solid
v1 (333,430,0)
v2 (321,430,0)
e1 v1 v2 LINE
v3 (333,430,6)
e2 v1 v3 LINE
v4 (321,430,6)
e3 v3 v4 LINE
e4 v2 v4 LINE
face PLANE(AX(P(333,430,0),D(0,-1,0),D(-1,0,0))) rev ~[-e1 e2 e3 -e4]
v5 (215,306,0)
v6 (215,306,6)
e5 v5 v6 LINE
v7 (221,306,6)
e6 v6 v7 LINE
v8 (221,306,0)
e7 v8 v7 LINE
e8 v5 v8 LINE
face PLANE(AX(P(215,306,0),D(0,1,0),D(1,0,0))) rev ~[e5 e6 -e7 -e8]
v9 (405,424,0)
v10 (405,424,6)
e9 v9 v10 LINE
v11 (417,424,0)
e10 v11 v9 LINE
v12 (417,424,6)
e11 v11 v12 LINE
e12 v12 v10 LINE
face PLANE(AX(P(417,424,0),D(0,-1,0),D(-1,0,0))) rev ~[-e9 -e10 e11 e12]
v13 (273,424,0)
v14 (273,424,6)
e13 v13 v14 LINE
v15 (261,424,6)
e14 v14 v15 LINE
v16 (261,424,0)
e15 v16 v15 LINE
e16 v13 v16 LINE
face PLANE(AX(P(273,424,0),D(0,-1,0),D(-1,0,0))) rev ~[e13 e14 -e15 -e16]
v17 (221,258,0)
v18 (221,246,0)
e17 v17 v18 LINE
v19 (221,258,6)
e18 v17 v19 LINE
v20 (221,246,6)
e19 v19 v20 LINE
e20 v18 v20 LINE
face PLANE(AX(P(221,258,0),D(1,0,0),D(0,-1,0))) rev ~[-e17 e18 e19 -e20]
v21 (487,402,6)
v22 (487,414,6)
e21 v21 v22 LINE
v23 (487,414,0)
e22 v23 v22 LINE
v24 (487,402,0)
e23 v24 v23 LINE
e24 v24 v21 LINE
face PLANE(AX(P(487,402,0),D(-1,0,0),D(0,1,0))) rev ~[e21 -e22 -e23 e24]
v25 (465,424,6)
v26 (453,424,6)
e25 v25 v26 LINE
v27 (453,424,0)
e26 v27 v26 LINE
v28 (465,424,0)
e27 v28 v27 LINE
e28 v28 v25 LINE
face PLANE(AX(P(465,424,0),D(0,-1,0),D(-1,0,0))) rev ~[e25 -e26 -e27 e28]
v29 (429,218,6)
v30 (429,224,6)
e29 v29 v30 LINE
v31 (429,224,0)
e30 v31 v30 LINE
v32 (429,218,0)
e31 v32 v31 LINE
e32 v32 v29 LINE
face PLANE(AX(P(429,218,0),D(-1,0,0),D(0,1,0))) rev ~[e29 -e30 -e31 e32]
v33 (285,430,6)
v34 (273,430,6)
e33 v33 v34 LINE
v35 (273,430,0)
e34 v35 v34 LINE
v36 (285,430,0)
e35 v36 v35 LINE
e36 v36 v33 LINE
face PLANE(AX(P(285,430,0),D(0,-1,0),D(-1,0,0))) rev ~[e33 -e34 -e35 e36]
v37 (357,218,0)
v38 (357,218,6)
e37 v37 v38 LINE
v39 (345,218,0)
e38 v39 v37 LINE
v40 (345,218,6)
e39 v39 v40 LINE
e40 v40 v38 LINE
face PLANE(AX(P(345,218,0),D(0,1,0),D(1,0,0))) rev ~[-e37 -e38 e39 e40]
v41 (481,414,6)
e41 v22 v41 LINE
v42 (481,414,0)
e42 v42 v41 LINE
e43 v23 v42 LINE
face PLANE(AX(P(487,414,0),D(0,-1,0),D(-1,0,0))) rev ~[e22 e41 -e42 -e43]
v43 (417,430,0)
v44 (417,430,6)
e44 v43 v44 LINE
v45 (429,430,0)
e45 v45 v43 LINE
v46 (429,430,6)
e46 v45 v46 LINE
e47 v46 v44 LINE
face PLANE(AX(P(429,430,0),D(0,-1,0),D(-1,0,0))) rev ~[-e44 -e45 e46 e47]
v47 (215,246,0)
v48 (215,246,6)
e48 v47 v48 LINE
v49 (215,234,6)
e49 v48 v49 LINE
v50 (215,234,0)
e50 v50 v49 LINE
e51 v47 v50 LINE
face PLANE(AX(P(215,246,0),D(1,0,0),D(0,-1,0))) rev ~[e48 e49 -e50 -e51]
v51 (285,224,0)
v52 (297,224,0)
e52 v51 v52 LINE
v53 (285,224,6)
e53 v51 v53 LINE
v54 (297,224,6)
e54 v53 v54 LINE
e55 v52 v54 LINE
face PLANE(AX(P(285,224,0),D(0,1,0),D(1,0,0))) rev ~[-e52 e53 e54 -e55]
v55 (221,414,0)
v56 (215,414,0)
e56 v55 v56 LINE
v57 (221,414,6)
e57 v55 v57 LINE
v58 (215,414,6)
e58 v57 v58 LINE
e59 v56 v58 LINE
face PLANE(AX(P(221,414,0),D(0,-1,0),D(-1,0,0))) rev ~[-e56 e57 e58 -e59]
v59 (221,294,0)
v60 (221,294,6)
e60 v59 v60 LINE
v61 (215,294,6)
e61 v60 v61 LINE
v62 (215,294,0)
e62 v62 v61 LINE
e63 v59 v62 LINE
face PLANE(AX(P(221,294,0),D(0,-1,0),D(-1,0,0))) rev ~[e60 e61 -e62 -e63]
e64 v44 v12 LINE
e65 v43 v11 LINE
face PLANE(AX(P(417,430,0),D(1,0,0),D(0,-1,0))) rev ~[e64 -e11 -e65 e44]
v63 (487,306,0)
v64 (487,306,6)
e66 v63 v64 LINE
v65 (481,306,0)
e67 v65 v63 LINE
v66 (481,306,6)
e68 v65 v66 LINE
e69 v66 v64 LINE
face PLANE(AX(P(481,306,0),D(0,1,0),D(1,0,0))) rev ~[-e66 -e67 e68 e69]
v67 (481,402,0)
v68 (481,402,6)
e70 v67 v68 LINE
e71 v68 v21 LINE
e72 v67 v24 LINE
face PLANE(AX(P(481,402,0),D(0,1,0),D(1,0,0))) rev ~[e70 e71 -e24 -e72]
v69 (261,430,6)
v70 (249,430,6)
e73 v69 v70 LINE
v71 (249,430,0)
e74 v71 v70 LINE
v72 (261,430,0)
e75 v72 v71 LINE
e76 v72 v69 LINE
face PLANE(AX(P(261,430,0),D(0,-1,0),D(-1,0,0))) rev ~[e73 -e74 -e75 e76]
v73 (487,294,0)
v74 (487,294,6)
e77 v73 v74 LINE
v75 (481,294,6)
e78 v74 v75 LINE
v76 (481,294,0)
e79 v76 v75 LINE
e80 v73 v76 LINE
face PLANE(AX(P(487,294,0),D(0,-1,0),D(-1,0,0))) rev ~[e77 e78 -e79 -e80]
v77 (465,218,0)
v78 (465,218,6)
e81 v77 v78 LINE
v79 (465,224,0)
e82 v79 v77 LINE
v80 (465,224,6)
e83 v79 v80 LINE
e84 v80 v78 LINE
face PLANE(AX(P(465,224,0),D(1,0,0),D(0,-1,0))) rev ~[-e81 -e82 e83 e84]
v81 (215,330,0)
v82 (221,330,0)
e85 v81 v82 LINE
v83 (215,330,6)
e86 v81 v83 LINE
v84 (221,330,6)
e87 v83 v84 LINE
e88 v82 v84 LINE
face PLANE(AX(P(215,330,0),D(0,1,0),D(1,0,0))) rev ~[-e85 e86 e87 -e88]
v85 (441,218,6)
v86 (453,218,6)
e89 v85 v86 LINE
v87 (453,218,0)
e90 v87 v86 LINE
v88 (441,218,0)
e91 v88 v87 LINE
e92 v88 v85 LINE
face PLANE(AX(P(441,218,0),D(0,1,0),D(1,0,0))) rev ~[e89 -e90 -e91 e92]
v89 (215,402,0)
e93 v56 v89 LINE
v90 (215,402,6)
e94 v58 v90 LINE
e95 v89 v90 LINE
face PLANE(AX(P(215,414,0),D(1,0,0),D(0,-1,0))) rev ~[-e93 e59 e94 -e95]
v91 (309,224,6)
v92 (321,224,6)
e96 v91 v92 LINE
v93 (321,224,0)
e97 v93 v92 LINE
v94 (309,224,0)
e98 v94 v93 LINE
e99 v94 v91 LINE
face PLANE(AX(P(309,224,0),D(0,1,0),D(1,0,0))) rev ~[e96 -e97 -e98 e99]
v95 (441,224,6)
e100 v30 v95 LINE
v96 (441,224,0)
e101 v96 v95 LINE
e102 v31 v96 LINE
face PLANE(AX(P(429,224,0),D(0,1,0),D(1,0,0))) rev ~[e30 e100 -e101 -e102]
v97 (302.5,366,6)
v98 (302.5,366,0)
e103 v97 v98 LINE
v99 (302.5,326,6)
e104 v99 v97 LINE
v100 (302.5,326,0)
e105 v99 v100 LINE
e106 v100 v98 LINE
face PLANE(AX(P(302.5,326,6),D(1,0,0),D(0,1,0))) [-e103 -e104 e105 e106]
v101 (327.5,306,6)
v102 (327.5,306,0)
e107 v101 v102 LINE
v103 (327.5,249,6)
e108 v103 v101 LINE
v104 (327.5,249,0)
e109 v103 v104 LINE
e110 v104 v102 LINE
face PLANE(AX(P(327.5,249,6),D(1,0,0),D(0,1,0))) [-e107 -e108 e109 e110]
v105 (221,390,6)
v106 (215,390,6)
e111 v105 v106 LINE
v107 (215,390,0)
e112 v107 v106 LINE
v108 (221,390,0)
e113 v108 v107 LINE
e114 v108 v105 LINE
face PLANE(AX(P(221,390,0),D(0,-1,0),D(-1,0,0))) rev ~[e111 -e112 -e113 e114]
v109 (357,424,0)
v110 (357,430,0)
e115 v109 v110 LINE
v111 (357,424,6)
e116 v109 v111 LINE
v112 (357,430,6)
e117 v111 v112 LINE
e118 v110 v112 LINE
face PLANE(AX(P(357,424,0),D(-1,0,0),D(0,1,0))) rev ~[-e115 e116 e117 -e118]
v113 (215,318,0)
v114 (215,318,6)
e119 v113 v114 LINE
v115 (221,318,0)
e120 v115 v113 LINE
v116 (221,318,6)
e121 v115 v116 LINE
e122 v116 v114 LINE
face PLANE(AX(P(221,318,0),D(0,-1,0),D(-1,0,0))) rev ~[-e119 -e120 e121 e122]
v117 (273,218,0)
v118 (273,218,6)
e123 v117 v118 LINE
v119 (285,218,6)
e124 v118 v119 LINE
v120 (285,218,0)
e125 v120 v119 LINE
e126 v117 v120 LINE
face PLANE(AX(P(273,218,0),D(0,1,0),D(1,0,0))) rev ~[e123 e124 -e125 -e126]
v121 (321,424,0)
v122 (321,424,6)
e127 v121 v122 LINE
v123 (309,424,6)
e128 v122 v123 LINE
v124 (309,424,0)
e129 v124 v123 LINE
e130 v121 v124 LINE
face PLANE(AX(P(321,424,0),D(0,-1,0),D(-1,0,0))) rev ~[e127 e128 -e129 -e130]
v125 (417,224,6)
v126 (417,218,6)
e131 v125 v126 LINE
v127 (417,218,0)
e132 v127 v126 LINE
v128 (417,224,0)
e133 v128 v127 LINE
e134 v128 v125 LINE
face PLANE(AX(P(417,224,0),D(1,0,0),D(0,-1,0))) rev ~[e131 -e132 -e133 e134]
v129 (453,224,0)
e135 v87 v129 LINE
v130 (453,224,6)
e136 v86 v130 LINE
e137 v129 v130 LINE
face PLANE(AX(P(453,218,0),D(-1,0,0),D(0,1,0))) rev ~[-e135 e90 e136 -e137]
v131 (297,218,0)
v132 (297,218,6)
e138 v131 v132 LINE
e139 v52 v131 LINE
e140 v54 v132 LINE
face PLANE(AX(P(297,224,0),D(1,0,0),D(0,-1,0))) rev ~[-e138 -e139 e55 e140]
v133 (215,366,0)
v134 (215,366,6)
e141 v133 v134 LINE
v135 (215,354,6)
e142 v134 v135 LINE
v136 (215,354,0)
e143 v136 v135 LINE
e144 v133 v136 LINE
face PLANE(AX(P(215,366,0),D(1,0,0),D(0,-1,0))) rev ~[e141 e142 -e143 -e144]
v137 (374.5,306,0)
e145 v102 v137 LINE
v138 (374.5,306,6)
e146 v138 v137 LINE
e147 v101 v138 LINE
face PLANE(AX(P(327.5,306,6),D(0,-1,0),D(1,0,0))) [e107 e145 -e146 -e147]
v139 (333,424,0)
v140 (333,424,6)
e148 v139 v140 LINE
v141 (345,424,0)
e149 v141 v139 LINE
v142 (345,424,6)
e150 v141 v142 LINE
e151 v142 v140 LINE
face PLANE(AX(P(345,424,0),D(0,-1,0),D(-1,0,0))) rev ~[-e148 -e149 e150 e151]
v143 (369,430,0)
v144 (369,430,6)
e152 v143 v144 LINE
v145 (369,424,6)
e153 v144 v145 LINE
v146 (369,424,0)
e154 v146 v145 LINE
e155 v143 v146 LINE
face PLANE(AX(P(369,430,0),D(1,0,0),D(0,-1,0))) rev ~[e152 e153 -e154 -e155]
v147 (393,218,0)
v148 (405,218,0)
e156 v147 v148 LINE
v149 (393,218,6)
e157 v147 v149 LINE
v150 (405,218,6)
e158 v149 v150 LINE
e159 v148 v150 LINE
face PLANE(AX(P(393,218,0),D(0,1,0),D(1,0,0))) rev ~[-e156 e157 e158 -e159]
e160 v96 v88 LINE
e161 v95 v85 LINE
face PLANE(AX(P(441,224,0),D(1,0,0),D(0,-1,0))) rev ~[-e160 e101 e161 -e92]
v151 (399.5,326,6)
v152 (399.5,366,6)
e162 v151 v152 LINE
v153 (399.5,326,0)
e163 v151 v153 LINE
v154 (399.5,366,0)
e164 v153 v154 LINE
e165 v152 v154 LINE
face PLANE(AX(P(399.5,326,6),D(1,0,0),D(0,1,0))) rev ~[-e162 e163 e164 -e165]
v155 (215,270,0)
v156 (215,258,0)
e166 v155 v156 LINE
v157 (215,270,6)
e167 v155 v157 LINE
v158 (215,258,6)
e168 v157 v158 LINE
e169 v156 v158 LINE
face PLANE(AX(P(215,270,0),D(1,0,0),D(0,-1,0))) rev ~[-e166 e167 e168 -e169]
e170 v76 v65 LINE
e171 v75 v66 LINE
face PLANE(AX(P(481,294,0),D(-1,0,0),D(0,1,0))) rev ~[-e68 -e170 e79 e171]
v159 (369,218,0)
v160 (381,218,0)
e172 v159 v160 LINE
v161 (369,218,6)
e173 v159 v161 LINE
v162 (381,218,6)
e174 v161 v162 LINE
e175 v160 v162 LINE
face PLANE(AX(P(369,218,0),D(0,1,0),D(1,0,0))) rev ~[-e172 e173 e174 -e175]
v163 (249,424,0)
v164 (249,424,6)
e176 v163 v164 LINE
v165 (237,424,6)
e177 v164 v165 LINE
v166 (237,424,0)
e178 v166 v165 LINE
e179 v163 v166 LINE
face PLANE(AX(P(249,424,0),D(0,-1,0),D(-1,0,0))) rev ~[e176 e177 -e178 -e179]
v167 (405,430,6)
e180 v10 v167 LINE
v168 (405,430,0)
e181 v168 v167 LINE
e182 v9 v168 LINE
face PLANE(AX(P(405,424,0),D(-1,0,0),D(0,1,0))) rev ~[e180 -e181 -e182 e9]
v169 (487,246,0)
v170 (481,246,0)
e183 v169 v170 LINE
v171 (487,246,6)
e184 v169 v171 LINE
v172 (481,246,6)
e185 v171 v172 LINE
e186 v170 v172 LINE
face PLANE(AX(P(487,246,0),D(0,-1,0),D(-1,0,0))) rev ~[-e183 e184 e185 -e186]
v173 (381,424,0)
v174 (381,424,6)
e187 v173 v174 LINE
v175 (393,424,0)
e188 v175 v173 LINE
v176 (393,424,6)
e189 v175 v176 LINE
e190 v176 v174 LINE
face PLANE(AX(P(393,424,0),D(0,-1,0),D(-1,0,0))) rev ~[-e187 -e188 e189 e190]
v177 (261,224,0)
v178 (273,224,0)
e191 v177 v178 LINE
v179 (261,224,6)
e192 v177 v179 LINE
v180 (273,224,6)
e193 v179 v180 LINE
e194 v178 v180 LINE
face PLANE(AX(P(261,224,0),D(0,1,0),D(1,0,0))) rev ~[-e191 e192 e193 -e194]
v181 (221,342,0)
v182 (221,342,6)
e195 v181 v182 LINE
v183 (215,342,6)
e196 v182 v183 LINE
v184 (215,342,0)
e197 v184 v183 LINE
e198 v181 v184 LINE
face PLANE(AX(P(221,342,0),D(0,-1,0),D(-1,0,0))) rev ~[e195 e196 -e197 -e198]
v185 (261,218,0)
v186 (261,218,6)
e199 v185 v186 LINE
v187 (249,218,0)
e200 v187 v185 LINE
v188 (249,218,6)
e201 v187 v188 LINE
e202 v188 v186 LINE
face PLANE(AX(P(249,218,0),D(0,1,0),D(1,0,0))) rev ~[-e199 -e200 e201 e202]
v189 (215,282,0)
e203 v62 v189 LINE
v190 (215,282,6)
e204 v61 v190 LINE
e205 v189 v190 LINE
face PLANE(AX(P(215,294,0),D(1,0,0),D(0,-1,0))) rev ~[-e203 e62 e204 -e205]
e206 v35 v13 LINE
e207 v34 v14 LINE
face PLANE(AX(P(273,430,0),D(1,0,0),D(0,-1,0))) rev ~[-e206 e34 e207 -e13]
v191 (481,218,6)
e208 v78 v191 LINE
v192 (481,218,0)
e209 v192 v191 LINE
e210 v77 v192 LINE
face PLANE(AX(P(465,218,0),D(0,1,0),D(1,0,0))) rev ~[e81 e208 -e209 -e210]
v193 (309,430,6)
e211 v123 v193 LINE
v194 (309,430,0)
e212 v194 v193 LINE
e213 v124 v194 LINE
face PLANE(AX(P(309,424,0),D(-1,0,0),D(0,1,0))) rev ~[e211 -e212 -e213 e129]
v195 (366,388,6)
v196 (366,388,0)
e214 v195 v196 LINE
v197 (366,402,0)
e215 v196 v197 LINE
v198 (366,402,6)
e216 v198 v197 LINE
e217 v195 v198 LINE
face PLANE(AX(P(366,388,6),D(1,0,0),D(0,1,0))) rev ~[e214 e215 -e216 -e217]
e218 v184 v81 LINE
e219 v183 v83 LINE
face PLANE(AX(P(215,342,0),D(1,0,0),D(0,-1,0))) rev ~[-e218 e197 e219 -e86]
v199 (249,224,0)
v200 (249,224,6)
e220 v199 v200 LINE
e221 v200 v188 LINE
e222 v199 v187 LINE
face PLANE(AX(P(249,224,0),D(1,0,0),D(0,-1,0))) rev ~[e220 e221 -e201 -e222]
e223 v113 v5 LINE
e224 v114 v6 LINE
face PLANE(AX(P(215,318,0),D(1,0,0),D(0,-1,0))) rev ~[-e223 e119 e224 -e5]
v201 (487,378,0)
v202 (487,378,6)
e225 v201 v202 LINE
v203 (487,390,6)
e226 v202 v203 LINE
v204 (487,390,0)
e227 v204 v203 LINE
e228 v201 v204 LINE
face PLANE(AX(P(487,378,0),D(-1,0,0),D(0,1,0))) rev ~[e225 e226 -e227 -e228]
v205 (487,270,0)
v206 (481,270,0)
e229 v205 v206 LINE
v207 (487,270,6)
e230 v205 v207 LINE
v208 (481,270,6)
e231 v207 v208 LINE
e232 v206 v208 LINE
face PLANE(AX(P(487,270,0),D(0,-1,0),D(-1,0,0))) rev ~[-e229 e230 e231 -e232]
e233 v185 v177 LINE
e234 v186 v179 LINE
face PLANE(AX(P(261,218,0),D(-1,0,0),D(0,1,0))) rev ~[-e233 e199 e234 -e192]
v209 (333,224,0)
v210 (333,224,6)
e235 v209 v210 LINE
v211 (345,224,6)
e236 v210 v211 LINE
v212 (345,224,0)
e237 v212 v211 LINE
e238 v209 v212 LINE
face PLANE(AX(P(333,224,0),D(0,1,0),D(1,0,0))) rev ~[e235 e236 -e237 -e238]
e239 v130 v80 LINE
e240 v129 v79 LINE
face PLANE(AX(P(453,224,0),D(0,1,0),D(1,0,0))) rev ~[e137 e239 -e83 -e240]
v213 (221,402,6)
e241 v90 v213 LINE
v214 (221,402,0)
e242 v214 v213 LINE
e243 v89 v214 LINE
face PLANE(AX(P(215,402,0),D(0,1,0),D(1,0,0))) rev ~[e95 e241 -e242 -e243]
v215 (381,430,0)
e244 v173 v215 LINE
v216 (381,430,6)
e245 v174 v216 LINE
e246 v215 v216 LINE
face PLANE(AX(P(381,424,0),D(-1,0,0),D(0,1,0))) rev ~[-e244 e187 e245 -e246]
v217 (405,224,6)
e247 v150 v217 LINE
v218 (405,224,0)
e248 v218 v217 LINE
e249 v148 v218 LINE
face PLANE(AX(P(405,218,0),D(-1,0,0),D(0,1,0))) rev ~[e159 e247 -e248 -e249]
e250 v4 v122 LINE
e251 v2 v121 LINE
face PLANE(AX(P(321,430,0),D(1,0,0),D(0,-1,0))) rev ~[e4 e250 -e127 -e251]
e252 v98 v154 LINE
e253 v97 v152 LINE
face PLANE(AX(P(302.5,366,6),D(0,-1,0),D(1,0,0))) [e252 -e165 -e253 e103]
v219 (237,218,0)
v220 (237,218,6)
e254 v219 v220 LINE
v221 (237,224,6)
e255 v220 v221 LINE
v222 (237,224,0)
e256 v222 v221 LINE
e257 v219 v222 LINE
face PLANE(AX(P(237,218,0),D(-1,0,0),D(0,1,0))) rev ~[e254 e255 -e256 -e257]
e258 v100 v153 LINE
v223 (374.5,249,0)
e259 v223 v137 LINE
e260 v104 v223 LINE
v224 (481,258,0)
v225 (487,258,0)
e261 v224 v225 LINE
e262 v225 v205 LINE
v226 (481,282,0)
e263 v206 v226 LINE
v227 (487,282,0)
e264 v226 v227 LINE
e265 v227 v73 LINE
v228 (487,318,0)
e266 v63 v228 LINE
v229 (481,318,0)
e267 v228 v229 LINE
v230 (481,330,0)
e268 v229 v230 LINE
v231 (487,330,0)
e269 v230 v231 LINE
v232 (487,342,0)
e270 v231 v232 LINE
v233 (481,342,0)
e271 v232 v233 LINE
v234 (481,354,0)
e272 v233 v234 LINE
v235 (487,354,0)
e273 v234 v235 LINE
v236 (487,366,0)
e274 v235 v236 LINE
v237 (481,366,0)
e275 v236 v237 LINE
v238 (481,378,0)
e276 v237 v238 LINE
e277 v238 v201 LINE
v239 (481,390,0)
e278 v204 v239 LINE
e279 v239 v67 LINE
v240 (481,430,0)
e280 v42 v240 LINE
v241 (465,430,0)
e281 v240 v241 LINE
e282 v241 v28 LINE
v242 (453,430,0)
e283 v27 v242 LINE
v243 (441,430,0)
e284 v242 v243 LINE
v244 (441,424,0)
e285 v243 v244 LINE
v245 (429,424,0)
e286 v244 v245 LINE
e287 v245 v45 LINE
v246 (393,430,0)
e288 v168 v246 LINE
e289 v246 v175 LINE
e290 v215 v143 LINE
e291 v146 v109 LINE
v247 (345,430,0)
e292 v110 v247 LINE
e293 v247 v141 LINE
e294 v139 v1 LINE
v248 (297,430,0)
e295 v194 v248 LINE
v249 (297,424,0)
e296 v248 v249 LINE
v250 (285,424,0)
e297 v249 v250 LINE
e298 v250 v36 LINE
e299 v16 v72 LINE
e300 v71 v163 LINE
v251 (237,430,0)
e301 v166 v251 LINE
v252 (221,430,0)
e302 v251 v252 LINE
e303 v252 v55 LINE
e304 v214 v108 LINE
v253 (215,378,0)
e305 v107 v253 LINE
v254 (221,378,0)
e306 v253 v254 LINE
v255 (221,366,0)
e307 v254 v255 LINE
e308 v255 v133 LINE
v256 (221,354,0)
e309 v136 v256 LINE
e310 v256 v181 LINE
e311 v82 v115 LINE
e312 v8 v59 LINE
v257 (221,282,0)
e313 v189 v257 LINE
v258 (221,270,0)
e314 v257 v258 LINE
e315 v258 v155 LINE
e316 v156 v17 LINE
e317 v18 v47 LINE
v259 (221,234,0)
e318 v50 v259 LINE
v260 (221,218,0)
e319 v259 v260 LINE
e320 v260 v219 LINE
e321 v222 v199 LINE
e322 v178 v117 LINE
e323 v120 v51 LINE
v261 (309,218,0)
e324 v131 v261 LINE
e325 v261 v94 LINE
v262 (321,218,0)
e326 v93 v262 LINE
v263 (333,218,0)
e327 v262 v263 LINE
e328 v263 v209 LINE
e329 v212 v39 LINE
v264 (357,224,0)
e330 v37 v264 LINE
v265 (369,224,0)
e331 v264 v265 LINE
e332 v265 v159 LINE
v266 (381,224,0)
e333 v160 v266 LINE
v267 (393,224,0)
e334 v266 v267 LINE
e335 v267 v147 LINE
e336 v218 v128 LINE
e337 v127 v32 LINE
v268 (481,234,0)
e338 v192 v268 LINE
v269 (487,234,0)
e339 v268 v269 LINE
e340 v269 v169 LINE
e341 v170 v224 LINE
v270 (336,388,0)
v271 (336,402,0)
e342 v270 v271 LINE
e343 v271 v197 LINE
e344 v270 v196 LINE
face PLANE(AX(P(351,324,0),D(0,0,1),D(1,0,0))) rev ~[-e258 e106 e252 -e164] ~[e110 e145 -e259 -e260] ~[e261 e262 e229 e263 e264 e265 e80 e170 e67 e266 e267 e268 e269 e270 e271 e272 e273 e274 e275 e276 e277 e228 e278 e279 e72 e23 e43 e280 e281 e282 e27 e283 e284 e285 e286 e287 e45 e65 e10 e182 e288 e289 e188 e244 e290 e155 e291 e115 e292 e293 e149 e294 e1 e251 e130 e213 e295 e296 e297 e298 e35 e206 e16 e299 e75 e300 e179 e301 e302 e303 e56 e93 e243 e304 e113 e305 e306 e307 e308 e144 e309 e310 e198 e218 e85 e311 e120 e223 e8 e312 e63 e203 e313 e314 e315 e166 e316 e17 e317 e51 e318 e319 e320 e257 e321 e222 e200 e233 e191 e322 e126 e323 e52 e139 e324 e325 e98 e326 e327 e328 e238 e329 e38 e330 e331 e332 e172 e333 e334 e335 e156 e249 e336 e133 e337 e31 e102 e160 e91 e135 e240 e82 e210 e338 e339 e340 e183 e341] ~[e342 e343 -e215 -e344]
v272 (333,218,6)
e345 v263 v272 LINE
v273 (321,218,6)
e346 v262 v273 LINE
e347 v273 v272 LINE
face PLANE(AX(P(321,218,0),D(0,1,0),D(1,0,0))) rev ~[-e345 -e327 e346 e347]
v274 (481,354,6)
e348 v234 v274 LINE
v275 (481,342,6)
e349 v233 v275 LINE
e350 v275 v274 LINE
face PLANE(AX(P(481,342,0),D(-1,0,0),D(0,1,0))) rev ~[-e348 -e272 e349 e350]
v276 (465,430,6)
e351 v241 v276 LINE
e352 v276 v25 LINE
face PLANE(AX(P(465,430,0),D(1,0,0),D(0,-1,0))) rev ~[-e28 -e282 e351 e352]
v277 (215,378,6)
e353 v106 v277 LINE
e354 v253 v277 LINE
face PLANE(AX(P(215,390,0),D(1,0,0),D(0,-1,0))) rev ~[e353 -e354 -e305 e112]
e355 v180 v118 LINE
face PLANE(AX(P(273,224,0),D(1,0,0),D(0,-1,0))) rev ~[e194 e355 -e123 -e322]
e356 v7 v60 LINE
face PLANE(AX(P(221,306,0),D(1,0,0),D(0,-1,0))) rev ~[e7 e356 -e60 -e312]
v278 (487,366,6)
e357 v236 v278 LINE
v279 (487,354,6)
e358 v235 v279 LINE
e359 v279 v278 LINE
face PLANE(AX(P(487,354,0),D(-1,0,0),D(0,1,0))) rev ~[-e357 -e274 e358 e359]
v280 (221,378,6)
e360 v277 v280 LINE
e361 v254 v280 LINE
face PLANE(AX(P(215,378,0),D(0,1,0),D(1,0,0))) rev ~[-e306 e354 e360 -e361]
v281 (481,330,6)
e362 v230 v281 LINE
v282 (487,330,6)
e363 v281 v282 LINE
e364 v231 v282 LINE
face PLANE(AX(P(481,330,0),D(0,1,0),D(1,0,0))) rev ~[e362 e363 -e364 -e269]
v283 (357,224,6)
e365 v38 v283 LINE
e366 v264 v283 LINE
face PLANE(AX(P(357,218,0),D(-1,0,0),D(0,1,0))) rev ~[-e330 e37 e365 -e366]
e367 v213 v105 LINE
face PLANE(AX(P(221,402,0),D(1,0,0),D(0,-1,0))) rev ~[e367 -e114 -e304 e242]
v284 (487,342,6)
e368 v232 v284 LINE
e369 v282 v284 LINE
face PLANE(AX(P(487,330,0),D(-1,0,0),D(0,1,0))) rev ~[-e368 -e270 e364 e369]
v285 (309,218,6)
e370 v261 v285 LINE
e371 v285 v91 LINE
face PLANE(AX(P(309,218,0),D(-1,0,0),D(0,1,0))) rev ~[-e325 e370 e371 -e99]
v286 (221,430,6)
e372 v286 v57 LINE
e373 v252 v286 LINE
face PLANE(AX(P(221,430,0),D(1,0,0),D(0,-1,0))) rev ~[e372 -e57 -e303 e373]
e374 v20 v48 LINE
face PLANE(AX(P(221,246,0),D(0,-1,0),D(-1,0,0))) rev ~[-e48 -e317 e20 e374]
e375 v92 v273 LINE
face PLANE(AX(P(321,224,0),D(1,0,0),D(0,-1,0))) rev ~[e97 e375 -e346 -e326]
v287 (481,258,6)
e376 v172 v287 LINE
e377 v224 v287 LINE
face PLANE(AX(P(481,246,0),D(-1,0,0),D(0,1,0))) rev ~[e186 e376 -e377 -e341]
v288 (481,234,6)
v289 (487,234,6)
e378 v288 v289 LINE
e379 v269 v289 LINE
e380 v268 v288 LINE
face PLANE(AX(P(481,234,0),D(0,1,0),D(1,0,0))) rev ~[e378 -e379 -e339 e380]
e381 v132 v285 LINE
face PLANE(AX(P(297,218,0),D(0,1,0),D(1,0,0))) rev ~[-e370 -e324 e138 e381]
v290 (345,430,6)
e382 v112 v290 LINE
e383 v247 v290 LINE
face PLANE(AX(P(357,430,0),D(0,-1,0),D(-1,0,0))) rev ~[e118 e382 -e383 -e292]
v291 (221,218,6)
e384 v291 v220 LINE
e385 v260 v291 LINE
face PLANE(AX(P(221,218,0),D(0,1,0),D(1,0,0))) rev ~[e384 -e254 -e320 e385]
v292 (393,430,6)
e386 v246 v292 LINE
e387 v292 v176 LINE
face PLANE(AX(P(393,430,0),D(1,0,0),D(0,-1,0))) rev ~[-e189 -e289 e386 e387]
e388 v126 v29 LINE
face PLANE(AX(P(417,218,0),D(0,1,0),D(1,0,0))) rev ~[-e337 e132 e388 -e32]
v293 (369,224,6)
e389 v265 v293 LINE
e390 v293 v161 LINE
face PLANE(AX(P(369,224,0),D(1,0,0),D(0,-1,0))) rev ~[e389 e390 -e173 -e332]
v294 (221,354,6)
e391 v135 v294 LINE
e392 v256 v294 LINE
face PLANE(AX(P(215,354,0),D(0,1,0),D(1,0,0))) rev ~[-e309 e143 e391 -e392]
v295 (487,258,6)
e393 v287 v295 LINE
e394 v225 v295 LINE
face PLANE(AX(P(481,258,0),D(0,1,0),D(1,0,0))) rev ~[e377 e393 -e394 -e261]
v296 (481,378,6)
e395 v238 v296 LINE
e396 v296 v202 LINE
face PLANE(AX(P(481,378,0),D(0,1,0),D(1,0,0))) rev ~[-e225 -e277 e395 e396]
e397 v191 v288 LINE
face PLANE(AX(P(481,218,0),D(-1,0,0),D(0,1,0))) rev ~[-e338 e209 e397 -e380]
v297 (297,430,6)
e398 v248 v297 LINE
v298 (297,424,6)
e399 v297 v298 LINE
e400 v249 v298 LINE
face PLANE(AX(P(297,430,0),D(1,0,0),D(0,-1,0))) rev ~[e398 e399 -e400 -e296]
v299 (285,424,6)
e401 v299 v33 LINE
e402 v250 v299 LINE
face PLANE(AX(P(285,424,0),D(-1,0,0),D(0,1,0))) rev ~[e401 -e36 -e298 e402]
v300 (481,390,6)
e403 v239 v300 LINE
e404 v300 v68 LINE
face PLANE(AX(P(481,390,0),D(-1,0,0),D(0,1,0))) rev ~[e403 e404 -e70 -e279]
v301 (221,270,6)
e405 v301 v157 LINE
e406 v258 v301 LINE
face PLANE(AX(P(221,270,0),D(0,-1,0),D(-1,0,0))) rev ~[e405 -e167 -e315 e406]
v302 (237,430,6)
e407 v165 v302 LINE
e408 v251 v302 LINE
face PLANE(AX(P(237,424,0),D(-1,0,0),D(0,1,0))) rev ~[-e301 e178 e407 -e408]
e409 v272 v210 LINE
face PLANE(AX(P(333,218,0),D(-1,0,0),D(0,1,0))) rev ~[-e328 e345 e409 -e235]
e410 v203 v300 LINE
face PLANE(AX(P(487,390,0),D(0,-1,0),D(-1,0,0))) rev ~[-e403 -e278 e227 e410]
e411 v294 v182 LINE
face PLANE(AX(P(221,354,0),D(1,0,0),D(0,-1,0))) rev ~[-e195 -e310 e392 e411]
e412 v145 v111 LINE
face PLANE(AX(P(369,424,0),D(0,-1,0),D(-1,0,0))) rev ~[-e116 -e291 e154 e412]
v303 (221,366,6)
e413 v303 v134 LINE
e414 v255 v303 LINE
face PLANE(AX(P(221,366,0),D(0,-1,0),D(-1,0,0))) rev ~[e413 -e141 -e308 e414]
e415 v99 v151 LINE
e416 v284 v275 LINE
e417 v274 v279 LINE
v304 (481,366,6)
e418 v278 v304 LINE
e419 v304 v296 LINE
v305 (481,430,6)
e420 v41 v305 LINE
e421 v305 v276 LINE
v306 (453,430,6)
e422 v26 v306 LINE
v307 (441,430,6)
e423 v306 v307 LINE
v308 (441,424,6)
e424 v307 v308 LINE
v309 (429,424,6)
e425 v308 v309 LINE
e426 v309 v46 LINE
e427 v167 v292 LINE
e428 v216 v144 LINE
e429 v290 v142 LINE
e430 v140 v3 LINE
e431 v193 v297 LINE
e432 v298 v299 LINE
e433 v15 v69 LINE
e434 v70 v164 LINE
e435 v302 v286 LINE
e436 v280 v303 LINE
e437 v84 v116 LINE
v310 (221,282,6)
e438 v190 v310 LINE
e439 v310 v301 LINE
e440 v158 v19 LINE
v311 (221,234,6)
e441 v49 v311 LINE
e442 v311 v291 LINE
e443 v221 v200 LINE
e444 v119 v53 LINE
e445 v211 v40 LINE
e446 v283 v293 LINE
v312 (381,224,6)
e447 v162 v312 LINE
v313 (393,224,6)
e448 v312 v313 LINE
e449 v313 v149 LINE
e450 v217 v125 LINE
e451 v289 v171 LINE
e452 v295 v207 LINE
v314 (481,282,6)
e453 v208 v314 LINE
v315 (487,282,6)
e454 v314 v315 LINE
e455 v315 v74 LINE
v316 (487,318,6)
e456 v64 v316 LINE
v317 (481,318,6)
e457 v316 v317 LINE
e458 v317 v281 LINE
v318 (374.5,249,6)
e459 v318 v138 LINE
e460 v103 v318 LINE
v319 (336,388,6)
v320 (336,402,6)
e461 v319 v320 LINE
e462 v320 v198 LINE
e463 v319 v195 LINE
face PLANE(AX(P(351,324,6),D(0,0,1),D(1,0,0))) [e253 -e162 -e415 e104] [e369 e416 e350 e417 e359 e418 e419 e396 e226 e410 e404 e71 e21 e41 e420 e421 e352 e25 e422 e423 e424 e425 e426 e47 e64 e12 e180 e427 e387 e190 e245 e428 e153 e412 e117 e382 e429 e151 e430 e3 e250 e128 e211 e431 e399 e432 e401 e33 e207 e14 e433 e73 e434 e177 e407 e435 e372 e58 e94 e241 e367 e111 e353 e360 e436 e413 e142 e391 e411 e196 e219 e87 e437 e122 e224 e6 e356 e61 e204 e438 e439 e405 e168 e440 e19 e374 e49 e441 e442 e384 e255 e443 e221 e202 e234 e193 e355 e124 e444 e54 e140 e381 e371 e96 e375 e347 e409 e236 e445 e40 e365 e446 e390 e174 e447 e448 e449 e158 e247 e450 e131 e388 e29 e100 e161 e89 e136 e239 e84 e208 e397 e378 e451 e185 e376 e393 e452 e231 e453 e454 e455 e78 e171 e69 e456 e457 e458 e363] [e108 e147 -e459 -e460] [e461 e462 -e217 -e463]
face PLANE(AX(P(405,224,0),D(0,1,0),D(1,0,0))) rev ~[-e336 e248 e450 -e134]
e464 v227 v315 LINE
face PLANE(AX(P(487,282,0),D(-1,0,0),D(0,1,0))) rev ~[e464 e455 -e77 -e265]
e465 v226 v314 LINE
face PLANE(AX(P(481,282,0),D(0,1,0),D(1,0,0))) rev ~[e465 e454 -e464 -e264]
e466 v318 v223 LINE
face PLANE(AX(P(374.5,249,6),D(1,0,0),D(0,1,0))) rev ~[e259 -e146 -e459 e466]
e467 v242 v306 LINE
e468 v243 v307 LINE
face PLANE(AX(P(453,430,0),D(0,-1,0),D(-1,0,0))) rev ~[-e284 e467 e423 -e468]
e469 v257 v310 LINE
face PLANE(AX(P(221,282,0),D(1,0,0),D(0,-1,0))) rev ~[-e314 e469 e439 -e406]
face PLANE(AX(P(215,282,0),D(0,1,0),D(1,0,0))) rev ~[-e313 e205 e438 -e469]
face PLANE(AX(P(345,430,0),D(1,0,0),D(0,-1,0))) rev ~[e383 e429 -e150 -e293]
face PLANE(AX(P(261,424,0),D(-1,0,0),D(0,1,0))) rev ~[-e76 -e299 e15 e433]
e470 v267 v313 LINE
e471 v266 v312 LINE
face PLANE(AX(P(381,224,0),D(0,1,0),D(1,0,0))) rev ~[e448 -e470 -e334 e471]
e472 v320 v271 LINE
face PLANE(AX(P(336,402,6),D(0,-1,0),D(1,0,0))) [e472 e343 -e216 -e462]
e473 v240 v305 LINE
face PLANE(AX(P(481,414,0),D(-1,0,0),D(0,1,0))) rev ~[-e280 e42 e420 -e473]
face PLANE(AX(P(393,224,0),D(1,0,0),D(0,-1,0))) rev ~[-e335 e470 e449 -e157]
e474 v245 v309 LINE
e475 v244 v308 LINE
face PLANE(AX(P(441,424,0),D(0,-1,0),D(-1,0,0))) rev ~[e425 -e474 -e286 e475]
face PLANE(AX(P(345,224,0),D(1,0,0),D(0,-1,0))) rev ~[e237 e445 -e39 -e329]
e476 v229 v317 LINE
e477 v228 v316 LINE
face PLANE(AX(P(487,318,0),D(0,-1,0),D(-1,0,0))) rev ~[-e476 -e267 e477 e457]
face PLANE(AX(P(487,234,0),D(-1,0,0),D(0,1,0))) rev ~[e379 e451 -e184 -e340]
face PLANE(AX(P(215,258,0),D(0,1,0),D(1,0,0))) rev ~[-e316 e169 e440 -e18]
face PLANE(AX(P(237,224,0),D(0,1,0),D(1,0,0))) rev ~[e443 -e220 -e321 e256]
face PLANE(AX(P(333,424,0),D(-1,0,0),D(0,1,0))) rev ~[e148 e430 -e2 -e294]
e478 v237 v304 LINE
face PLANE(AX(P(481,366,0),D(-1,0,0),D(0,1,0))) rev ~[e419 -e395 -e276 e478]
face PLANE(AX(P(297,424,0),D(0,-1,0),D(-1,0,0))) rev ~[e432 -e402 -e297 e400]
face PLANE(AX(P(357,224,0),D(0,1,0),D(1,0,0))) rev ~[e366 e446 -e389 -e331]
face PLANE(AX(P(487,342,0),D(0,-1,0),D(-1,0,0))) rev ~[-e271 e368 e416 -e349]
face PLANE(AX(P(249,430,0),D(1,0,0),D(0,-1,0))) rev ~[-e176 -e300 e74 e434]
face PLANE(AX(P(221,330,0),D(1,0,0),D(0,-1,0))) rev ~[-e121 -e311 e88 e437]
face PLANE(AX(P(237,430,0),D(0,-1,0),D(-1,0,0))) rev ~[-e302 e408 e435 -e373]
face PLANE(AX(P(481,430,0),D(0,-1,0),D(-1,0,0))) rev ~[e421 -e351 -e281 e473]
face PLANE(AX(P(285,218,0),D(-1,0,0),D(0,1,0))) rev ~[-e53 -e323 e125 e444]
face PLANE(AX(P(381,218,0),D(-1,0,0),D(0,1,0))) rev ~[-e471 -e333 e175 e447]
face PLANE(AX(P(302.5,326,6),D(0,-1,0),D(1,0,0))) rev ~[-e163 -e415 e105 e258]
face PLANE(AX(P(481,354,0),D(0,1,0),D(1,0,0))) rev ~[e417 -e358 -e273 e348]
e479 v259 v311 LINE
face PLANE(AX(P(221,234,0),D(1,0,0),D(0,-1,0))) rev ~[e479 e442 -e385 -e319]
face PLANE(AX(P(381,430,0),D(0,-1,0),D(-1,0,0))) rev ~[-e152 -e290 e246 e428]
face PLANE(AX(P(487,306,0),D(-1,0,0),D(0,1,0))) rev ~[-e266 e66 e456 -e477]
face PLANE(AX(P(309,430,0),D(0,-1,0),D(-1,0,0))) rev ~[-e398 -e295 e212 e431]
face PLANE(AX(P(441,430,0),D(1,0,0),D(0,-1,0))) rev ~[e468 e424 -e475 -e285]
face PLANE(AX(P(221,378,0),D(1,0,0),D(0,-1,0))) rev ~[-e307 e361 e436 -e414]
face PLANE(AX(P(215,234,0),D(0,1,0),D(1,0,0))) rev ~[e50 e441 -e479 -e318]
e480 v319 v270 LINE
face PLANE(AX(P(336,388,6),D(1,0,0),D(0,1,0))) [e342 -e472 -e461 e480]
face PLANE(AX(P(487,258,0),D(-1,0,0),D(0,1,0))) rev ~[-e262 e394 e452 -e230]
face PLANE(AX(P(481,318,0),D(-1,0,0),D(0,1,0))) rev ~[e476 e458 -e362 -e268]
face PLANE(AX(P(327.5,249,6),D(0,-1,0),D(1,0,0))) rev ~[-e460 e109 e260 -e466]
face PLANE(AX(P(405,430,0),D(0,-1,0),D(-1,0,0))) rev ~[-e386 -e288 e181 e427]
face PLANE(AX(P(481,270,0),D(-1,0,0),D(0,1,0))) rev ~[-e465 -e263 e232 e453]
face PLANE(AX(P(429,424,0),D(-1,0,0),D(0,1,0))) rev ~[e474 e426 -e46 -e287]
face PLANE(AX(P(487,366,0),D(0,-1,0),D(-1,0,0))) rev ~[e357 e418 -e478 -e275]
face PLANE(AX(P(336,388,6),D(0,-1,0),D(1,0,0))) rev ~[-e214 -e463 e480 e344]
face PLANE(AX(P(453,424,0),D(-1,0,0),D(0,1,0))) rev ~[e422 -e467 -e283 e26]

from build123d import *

# Parameters (mm, degrees)
BOSS_EXTRUDE1_DEPTH = 6
SKETCH2_W           = 30
SKETCH2_H           = 14
SKETCH2_W_2         = 97
SKETCH2_H_2         = 40
SKETCH2_W_3         = 47
SKETCH2_H_3         = 57
CUT_EXTRUDE1_DEPTH  = 6


with BuildPart() as part:
    # Model → Boss-Extrude1 (new body)
    with BuildSketch(Plane.XY):
        Polygon((221, 430), (221, 414), (215, 414), (215, 402), (221, 402), (221, 390), (215, 390), (215, 378), (221, 378), (221, 366), (215, 366), (215, 354), (221, 354), (221, 342), (215, 342), (215, 330), (221, 330), (221, 318), (215, 318), (215, 306), (221, 306), (221, 294), (215, 294), (215, 282), (221, 282), (221, 270), (215, 270), (215, 258), (221, 258), (221, 246), (215, 246), (215, 234), (221, 234), (221, 218), (237, 218), (237, 224), (249, 224), (249, 218), (261, 218), (261, 224), (273, 224), (273, 218), (285, 218), (285, 224), (297, 224), (297, 218), (309, 218), (309, 224), (321, 224), (321, 218), (333, 218), (333, 224), (345, 224), (345, 218), (357, 218), (357, 224), (369, 224), (369, 218), (381, 218), (381, 224), (393, 224), (393, 218), (405, 218), (405, 224), (417, 224), (417, 218), (429, 218), (429, 224), (441, 224), (441, 218), (453, 218), (453, 224), (465, 224), (465, 218), (477, 218), (481, 218), (481, 234), (487, 234), (487, 246), (481, 246), (481, 258), (487, 258), (487, 270), (481, 270), (481, 282), (487, 282), (487, 294), (481, 294), (481, 306), (487, 306), (487, 318), (481, 318), (481, 330), (487, 330), (487, 342), (481, 342), (481, 354), (487, 354), (487, 366), (481, 366), (481, 378), (487, 378), (487, 390), (481, 390), (481, 402), (487, 402), (487, 414), (481, 414), (481, 430), (465, 430), (465, 424), (453, 424), (453, 430), (441, 430), (441, 424), (429, 424), (429, 430), (417, 430), (417, 424), (405, 424), (405, 430), (393, 430), (393, 424), (381, 424), (381, 430), (369, 430), (369, 424), (357, 424), (357, 430), (345, 430), (345, 424), (333, 424), (333, 430), (321, 430), (321, 424), (309, 424), (309, 430), (297, 430), (297, 424), (285, 424), (285, 430), (273, 430), (273, 424), (261, 424), (261, 430), (249, 430), (249, 424), (237, 424), (237, 430), (225, 430), align=None)
    extrude(amount=BOSS_EXTRUDE1_DEPTH)

    # Sketch2 → Cut-Extrude1 (cut)
    with BuildSketch(Plane.XY.offset(6)):
        with Locations((351, 395)):
            Rectangle(SKETCH2_W, SKETCH2_H)
        with Locations((351, 346)):
            Rectangle(SKETCH2_W_2, SKETCH2_H_2)
        with Locations((351, 277.5)):
            Rectangle(SKETCH2_W_3, SKETCH2_H_3)
    extrude(amount=-CUT_EXTRUDE1_DEPTH, mode=Mode.SUBTRACT)


solid = part.part
